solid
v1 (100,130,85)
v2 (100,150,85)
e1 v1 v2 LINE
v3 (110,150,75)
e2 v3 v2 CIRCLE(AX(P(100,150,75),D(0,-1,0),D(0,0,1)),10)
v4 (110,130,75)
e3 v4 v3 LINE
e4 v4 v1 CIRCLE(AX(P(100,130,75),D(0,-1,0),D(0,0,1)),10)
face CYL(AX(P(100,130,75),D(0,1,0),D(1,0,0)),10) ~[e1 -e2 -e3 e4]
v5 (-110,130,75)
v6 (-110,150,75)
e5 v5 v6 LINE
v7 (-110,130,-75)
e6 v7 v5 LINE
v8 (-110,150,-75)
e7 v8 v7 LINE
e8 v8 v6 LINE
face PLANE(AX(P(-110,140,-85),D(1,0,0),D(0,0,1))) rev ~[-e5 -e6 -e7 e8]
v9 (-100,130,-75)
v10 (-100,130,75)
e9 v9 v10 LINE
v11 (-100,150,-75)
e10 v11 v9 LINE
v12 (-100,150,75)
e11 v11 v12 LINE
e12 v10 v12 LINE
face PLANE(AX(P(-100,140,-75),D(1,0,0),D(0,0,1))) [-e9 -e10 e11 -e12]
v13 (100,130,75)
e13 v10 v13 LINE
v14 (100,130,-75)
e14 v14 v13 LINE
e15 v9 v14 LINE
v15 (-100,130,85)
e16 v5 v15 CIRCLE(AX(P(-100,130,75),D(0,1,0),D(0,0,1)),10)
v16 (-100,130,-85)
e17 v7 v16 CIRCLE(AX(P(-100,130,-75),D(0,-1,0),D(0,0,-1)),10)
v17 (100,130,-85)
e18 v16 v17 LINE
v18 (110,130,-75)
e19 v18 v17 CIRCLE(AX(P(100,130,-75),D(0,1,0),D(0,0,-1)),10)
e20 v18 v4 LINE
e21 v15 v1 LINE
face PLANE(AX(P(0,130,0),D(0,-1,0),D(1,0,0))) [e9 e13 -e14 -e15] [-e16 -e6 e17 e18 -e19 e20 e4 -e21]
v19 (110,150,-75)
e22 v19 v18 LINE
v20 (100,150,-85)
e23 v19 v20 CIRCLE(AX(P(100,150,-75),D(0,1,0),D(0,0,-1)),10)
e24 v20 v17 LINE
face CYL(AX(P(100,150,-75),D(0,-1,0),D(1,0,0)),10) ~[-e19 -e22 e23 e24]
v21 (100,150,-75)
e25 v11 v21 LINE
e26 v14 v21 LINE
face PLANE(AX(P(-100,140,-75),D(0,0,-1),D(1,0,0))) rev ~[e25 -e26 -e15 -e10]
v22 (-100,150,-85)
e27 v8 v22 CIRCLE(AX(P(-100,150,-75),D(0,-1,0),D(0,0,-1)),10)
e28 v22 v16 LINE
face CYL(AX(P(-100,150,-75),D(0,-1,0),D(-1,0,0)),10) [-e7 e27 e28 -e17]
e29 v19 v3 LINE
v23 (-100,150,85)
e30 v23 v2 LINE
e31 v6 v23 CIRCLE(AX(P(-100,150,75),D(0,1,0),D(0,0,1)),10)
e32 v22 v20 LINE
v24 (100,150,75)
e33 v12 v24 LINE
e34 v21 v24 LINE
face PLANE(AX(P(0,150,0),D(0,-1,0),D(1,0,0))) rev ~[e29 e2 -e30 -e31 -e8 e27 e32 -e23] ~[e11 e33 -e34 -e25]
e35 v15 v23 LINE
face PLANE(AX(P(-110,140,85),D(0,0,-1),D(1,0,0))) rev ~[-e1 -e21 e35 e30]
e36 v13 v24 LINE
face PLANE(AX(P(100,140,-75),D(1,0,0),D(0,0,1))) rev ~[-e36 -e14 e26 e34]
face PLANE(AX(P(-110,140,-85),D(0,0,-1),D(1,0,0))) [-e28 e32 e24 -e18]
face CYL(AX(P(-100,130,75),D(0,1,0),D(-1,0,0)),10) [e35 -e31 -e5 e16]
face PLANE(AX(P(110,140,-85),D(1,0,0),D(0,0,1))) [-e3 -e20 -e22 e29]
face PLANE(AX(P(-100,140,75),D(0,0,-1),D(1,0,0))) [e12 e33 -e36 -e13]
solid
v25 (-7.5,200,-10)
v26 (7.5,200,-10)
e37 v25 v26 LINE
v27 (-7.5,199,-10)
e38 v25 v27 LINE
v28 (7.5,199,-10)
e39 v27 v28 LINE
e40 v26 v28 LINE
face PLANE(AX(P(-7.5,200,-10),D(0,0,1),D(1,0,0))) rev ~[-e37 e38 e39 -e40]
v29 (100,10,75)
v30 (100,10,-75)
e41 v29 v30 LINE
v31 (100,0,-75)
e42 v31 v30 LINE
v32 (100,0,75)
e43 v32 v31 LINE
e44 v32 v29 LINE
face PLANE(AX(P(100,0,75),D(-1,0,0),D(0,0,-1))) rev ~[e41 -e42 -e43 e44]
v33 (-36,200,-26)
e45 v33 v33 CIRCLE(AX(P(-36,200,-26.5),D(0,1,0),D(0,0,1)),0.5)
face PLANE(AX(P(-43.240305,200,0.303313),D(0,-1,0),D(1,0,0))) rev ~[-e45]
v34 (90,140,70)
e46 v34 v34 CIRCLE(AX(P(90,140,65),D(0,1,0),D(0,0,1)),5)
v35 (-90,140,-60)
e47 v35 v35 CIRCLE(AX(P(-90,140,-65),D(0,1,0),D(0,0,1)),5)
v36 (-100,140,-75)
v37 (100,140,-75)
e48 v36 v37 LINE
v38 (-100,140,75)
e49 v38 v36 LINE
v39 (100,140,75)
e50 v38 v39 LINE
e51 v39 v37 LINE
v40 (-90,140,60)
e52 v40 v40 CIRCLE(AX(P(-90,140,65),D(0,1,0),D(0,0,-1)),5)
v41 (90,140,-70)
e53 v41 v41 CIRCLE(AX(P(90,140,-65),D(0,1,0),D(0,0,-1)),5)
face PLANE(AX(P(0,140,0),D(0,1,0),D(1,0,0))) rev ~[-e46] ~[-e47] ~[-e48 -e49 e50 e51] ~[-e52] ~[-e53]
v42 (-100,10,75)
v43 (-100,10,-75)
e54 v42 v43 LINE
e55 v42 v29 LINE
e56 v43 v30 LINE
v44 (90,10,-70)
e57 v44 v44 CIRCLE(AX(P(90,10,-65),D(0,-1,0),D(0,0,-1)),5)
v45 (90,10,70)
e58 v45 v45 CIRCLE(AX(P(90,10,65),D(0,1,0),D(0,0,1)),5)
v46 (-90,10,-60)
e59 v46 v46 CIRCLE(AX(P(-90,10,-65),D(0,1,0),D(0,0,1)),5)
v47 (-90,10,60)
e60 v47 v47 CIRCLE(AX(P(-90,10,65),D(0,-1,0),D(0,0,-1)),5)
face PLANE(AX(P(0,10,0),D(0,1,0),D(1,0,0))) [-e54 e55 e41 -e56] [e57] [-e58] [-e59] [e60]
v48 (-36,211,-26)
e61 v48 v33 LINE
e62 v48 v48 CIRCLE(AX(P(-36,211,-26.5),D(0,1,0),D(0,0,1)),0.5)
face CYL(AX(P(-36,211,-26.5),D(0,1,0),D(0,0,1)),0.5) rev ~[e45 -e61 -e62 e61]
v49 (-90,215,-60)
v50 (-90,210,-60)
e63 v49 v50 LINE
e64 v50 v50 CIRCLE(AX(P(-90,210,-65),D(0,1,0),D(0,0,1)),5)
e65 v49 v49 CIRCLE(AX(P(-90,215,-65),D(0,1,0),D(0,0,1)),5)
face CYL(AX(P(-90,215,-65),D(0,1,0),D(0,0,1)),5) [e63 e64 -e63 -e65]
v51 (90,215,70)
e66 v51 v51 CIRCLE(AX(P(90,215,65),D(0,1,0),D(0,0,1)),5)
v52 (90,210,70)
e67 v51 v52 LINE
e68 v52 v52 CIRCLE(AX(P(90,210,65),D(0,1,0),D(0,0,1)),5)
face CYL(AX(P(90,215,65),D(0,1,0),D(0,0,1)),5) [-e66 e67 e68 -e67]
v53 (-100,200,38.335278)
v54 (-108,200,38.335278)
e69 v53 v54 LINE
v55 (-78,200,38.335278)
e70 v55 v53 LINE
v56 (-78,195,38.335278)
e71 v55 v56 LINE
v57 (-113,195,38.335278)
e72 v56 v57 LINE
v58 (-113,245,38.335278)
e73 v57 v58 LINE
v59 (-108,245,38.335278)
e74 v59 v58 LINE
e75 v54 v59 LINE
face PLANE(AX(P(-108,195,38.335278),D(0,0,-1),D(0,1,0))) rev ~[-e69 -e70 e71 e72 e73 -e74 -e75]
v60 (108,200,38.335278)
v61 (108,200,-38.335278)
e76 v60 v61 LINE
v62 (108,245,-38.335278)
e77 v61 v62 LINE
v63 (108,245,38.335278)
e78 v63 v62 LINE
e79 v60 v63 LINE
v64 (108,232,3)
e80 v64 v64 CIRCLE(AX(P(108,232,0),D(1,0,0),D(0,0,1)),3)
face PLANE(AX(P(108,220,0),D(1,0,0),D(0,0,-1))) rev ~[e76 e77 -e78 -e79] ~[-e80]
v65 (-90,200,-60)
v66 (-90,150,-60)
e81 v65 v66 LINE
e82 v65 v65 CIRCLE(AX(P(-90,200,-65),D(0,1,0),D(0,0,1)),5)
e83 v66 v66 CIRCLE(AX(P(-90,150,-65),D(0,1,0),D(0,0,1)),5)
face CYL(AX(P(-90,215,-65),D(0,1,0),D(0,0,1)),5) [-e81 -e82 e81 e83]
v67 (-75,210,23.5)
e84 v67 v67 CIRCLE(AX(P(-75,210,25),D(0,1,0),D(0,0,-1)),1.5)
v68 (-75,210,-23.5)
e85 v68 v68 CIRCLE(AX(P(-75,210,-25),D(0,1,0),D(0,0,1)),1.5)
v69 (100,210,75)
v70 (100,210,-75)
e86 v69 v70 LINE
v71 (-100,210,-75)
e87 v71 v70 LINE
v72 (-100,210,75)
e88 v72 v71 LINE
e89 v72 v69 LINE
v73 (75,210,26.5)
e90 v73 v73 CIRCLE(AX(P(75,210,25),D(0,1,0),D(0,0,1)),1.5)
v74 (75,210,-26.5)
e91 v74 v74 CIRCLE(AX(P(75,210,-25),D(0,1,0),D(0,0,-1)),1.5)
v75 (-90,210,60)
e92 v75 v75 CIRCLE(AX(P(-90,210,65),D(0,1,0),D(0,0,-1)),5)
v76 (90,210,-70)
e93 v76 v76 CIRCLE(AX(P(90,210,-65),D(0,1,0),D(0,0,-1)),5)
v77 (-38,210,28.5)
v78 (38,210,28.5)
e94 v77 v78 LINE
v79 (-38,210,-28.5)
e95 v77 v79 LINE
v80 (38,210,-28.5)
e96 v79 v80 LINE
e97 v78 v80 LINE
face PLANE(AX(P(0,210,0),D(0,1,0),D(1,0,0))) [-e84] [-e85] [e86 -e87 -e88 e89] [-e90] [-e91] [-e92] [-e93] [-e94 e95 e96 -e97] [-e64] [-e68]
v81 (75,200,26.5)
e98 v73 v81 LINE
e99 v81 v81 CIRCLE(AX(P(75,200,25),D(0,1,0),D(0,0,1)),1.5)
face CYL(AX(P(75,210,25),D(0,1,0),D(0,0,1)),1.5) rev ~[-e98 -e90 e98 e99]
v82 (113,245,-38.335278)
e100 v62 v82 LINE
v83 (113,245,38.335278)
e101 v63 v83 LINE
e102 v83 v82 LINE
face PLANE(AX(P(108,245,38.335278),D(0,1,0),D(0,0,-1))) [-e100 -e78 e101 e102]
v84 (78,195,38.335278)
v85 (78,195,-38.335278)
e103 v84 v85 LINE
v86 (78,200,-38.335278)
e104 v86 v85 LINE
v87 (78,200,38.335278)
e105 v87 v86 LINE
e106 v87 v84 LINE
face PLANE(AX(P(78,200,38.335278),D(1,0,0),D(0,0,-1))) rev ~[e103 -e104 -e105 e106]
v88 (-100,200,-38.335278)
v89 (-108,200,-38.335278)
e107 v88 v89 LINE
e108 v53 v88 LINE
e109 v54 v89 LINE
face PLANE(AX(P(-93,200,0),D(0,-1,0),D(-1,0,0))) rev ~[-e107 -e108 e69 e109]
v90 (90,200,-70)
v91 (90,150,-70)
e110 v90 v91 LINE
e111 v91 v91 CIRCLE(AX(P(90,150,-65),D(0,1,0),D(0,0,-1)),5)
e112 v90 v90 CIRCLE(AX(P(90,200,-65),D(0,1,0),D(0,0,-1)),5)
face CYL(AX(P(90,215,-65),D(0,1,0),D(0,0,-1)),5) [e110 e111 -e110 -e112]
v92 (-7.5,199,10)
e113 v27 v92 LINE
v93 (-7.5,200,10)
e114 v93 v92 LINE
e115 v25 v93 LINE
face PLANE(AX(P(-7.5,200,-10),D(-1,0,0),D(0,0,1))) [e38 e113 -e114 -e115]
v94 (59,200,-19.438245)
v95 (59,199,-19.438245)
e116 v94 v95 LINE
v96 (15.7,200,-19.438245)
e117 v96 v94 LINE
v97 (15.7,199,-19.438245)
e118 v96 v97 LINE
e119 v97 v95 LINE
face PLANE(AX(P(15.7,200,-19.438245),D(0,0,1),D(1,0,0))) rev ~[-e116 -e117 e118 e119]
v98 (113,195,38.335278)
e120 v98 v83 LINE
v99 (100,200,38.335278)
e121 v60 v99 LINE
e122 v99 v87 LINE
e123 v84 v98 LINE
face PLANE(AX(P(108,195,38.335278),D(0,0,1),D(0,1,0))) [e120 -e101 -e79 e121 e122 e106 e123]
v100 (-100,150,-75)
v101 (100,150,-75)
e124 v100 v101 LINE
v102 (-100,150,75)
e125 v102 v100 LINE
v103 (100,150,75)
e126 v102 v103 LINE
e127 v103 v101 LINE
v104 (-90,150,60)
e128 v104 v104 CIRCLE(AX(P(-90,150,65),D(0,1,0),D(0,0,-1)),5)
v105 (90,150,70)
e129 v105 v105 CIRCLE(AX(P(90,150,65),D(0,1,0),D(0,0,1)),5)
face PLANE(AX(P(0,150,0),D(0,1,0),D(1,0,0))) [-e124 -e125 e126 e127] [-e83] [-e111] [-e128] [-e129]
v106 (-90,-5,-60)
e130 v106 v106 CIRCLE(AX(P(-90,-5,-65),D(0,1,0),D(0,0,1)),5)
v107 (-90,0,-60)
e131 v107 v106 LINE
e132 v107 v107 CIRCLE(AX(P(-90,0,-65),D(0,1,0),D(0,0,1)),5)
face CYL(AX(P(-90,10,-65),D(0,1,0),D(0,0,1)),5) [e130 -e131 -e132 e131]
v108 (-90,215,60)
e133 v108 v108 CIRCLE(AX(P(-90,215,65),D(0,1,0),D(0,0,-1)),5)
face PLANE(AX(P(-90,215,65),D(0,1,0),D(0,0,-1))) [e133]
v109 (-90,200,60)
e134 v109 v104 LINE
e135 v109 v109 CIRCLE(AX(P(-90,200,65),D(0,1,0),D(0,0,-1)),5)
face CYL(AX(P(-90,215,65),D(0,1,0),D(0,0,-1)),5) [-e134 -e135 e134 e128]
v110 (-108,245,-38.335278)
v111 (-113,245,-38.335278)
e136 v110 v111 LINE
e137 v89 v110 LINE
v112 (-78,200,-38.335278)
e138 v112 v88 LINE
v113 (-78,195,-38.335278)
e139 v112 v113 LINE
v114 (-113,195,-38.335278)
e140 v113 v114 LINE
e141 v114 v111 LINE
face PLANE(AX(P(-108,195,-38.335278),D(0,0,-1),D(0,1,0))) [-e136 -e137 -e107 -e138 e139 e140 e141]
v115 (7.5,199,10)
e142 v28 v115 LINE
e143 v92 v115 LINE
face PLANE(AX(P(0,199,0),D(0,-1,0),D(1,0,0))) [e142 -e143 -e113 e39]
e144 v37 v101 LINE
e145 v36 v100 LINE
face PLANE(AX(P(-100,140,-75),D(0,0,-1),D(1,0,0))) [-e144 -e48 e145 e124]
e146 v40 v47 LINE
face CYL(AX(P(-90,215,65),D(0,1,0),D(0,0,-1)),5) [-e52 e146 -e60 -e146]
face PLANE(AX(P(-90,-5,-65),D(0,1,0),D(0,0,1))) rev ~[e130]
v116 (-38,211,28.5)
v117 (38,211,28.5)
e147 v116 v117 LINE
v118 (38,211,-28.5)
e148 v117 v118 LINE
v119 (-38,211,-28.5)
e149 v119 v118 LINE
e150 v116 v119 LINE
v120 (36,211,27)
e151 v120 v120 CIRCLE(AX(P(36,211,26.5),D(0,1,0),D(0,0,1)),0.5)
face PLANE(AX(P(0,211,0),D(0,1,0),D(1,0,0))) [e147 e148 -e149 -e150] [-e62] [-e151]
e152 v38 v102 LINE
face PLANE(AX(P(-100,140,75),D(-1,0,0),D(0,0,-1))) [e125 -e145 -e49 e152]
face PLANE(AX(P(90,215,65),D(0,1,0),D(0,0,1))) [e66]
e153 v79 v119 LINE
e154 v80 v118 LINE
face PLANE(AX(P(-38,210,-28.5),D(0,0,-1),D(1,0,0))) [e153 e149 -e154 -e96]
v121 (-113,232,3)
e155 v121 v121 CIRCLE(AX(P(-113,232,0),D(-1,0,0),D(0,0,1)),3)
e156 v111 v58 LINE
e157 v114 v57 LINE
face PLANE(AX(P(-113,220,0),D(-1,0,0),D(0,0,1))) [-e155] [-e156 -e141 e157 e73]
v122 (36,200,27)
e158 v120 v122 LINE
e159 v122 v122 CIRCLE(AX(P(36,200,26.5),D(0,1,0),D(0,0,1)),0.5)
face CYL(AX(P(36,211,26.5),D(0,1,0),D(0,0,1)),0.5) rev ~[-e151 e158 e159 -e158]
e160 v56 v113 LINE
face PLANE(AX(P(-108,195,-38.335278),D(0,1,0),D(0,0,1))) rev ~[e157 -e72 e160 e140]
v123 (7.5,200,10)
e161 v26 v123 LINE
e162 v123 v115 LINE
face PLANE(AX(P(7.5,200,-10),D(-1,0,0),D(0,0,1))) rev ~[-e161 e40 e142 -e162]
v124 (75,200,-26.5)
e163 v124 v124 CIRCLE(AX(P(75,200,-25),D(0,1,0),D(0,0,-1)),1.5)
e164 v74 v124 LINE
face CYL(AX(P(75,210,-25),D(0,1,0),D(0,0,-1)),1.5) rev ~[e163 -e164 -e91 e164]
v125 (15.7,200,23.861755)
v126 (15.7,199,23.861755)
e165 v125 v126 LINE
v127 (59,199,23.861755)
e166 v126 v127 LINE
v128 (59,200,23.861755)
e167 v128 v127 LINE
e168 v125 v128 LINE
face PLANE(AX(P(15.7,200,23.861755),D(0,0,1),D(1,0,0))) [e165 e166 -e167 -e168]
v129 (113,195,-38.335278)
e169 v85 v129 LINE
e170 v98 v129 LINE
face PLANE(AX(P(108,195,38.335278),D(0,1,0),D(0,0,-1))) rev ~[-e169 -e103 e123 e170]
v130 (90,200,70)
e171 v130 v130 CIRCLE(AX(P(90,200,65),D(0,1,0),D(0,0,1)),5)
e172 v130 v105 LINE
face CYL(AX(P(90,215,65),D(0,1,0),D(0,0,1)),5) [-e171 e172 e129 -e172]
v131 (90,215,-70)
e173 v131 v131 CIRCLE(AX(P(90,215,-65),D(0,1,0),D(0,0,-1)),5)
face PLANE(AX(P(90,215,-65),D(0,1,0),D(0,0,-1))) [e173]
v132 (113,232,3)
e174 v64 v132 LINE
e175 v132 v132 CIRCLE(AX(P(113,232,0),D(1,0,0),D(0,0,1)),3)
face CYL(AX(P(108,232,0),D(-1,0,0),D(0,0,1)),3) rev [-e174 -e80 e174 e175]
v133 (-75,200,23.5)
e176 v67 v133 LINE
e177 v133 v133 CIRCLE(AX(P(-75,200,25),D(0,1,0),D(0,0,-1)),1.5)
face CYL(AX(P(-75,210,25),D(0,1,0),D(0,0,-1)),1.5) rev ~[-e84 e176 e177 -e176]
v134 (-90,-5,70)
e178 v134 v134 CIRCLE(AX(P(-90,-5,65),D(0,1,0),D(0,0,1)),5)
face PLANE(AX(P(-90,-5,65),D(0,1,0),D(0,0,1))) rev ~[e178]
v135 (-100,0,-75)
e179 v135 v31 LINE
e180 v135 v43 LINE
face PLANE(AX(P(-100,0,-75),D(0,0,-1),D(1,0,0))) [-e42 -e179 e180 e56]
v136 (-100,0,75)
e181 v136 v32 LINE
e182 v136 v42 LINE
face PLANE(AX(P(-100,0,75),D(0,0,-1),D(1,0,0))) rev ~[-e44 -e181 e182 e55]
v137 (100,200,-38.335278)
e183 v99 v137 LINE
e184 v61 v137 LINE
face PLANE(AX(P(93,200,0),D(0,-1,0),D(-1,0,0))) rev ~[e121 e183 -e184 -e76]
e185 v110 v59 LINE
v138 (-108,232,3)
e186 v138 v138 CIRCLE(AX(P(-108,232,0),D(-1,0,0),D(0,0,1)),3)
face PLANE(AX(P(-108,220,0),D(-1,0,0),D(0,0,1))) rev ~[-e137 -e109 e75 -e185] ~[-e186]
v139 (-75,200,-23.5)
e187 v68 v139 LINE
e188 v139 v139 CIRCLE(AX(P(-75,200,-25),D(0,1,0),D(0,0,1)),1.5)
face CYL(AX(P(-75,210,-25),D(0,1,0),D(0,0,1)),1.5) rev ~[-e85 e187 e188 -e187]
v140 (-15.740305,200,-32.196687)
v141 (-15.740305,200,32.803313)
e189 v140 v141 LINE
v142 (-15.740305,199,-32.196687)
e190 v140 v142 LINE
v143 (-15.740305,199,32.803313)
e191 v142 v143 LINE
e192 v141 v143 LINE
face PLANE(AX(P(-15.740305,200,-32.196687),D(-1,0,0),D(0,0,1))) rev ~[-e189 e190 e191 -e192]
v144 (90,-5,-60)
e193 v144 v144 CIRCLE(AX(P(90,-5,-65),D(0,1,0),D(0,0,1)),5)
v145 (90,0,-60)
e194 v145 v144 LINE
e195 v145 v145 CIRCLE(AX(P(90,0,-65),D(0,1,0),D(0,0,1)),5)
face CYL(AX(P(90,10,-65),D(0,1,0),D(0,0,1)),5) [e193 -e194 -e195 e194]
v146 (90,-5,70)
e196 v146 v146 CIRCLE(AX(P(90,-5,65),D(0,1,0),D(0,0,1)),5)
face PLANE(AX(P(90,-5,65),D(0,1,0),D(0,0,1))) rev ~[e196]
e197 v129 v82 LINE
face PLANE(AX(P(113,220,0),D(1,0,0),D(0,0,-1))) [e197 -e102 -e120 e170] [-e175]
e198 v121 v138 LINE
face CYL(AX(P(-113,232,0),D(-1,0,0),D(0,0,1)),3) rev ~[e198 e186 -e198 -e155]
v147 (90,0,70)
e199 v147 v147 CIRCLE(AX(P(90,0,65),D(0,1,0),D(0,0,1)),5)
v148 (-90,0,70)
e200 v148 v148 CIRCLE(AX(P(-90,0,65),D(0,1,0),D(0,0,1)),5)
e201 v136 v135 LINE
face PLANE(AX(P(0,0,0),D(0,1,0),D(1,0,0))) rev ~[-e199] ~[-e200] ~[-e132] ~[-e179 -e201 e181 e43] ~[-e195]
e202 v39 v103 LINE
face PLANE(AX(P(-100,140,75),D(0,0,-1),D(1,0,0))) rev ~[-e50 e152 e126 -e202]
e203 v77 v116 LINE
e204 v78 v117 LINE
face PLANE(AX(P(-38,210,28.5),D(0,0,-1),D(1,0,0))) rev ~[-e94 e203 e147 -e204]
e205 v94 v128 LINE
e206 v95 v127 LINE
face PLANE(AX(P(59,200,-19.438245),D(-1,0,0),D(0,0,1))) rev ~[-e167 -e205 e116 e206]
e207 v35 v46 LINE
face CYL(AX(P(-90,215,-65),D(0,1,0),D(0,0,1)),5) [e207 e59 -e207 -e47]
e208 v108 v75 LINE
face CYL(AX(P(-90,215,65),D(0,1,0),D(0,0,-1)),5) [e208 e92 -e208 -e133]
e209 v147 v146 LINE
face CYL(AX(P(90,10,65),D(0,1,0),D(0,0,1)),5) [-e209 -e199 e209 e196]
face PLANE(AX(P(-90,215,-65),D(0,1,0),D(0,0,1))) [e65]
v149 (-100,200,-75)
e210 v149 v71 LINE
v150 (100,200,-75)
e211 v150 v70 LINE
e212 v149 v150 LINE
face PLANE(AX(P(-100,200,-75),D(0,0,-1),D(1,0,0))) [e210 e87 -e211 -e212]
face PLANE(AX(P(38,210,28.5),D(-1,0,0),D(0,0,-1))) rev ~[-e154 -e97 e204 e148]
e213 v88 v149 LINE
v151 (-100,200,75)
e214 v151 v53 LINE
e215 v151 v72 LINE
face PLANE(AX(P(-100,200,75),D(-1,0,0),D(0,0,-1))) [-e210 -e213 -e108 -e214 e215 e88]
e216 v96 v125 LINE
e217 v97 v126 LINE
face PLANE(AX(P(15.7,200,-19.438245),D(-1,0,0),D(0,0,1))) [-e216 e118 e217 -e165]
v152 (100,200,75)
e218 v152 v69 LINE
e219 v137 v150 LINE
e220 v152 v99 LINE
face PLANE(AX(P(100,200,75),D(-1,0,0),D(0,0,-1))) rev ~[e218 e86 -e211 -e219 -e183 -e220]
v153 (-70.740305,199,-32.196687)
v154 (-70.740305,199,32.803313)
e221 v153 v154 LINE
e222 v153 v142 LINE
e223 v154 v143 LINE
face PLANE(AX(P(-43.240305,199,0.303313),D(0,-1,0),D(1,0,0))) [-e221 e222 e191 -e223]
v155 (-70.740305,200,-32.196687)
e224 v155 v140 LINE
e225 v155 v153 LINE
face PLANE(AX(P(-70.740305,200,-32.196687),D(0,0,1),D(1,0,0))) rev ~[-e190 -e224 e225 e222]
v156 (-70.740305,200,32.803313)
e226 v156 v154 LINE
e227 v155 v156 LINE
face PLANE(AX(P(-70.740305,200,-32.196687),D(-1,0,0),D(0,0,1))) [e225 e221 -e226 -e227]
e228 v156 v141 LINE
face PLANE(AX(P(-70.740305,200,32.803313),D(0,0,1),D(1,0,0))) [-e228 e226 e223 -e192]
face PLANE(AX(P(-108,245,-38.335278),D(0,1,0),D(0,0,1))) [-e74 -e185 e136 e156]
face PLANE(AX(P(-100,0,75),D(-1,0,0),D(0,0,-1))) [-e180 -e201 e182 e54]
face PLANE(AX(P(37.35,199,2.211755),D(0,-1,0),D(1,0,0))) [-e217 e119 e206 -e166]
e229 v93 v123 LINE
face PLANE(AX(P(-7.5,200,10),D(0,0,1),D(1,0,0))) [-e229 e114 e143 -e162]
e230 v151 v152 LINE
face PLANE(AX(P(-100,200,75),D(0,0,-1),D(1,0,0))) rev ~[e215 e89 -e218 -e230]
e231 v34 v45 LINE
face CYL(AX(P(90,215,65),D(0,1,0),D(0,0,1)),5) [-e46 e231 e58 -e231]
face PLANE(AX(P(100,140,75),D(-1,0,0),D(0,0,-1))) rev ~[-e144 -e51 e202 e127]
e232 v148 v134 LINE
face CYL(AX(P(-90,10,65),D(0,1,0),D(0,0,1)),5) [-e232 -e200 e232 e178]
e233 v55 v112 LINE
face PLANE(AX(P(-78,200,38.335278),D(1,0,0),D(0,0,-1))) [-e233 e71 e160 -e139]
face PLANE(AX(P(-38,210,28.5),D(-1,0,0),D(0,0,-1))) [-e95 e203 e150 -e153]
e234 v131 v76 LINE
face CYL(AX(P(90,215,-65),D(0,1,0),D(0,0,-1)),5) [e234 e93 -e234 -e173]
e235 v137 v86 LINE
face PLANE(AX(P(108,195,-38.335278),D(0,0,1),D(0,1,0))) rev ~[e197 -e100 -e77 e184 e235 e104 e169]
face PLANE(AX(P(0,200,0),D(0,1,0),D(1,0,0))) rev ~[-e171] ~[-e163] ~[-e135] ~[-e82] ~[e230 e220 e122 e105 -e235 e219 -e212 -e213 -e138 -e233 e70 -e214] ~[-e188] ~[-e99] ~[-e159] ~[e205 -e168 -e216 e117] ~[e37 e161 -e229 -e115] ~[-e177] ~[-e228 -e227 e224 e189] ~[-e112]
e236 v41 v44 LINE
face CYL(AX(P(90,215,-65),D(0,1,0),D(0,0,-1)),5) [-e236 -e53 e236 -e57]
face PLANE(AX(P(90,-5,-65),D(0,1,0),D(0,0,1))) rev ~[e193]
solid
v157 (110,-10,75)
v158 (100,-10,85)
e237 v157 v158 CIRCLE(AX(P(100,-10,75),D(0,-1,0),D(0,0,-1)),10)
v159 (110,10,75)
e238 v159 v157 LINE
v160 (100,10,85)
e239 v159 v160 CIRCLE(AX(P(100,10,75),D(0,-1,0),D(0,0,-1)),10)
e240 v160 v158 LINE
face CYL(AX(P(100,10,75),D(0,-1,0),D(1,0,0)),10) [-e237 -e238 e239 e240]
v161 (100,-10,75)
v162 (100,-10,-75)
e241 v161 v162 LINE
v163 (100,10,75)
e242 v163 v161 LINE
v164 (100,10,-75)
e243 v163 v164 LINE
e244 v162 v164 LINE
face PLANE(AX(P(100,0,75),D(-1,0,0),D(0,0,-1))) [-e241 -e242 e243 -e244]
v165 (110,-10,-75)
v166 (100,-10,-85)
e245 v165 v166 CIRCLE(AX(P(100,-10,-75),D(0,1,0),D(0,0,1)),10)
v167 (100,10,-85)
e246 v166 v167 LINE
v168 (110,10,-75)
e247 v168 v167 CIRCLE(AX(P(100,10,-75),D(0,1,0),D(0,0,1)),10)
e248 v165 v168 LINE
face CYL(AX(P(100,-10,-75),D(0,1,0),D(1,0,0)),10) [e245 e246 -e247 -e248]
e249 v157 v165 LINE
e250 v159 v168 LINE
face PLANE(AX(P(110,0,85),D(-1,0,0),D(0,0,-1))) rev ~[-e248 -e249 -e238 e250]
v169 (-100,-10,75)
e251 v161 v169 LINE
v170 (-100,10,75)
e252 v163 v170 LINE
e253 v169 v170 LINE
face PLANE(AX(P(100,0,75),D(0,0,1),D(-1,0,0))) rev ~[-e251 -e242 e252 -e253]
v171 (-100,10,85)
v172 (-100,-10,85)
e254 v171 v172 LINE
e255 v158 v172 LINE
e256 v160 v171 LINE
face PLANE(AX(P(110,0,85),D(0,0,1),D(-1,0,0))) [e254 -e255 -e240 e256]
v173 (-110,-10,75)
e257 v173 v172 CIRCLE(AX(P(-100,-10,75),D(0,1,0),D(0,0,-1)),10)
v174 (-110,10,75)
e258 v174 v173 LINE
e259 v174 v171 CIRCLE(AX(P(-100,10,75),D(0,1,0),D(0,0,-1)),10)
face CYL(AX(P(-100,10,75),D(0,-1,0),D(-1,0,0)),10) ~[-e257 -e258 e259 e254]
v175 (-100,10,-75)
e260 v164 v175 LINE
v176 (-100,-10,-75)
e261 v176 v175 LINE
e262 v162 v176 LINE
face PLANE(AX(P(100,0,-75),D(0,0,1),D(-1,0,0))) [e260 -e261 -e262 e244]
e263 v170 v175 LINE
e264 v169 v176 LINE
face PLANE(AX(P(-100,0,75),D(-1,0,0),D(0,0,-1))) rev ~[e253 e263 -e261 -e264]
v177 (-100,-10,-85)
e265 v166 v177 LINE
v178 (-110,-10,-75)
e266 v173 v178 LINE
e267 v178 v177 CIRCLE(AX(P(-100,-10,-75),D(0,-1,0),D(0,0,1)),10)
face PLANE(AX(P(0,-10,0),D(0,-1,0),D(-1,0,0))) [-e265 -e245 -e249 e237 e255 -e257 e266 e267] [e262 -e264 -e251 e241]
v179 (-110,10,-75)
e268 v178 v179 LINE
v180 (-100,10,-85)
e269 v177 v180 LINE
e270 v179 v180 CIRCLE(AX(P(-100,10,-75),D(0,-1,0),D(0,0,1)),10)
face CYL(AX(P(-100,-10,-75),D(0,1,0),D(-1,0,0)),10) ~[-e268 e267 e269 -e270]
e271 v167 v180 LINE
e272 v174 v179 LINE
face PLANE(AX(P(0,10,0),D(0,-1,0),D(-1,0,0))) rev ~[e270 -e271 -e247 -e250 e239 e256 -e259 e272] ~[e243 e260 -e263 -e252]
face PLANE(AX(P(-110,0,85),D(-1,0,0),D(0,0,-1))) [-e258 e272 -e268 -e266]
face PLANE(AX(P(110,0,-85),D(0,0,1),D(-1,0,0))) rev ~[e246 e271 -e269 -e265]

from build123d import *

# Parameters (mm, degrees)
SKETCH1_W            = 200
SKETCH1_H            = 150
BOSS_EXTRUDE1_DEPTH  = 10
SKETCH2_R            = 5
CUT_EXTRUDE1_DEPTH   = 10
SKETCH3_W            = 200
SKETCH3_H            = 150
SKETCH3_R            = 5
BOSS_EXTRUDE2_DEPTH  = 10
SKETCH4_W            = 200
SKETCH4_H            = 150
SKETCH4_R            = 5
BOSS_EXTRUDE3_DEPTH  = 10
BOSS_EXTRUDE13_START = 205
SKETCH21_R           = 5
BOSS_EXTRUDE13_DEPTH = 205
SKETCH22_R           = 5
BOSS_EXTRUDE14_DEPTH = 15
SKETCH23_R           = 1.5
CUT_EXTRUDE2_DEPTH   = 10
SKETCH27_W           = 76
SKETCH27_H           = 57
BOSS_EXTRUDE16_DEPTH = 1
SKETCH30_R           = 0.5
CUT_EXTRUDE3_DEPTH   = 30
SKETCH35_W           = 220
SKETCH35_H           = 170
SKETCH35_W_2         = 200
SKETCH35_H_2         = 150
BOSS_EXTRUDE19_DEPTH = 10
FILLET4_R            = 10
SKETCH39_W           = 220
SKETCH39_H           = 170
SKETCH39_W_2         = 200
SKETCH39_H_2         = 150
BOSS_EXTRUDE20_DEPTH = 10
FILLET5_R            = 10
SKETCH42_W           = 15
SKETCH42_H           = 20
SKETCH42_W_2         = 55
SKETCH42_H_2         = 65
SKETCH42_W_3         = 43.3
SKETCH42_H_3         = 43.3
BOSS_EXTRUDE23_DEPTH = 1
SKETCH46_W           = 30
SKETCH46_H           = 76.670556204
BOSS_EXTRUDE24_DEPTH = 5
SKETCH48_W           = 76.670556204
SKETCH48_H           = 50
BOSS_EXTRUDE25_DEPTH = 5
SKETCH49_R           = 3
CUT_EXTRUDE4_DEPTH   = 5
SKETCH54_W           = 76.670556204
SKETCH54_H           = 50
BOSS_EXTRUDE26_DEPTH = 5
CUT_EXTRUDE5_START   = -5
SKETCH55_R           = 3
CUT_EXTRUDE5_DEPTH   = 5


with BuildPart() as part:
    # Sketch1 → Boss-Extrude1 (new body)
    with BuildSketch(Plane(origin=(0, 0, 0), x_dir=(1, 0, 0), z_dir=(0, 1, 0))):
        Rectangle(SKETCH1_W, SKETCH1_H)
    extrude(amount=BOSS_EXTRUDE1_DEPTH)

    # Sketch2 → Cut-Extrude1 (cut)
    with BuildSketch(Plane(origin=(0, 10, 0), x_dir=(1, 0, 0), z_dir=(0, 1, 0))):
        with Locations(Location((-90, 65, 0), (0, 0, 270))):
            Circle(SKETCH2_R)
        with Locations(Location((90, 65, 0), (0, 0, 90))):
            Circle(SKETCH2_R)
        with Locations(Location((90, -65, 0), (0, 0, 270))):
            Circle(SKETCH2_R)
        with Locations(Location((-90, -65, 0), (0, 0, 90))):
            Circle(SKETCH2_R)
    extrude(amount=-CUT_EXTRUDE1_DEPTH, mode=Mode.SUBTRACT)



with BuildPart() as body_2:
    # Sketch3 → Boss-Extrude2 (new body)
    with BuildSketch(Plane(origin=(0, 140, 0), x_dir=(1, 0, 0), z_dir=(0, 1, 0))):
        Rectangle(SKETCH3_W, SKETCH3_H)
        with Locations(Location((-90, 65, 0), (0, 0, 270))):
            Circle(SKETCH3_R, mode=Mode.SUBTRACT)
        with Locations(Location((90, 65, 0), (0, 0, 90))):
            Circle(SKETCH3_R, mode=Mode.SUBTRACT)
        with Locations(Location((-90, -65, 0), (0, 0, 90))):
            Circle(SKETCH3_R, mode=Mode.SUBTRACT)
        with Locations(Location((90, -65, 0), (0, 0, 270))):
            Circle(SKETCH3_R, mode=Mode.SUBTRACT)
    extrude(amount=BOSS_EXTRUDE2_DEPTH)



with BuildPart() as body_3:
    # Sketch4 → Boss-Extrude3 (new body)
    with BuildSketch(Plane(origin=(0, 200, 0), x_dir=(1, 0, 0), z_dir=(0, 1, 0))):
        Rectangle(SKETCH4_W, SKETCH4_H)
        with Locations(Location((-90, 65, 0), (0, 0, 270))):
            Circle(SKETCH4_R, mode=Mode.SUBTRACT)
        with Locations(Location((90, 65, 0), (0, 0, 90))):
            Circle(SKETCH4_R, mode=Mode.SUBTRACT)
        with Locations(Location((90, -65, 0), (0, 0, 270))):
            Circle(SKETCH4_R, mode=Mode.SUBTRACT)
        with Locations(Location((-90, -65, 0), (0, 0, 90))):
            Circle(SKETCH4_R, mode=Mode.SUBTRACT)
    extrude(amount=BOSS_EXTRUDE3_DEPTH)


with BuildPart() as body_2_1:
    add(body_2.part)

    add(body_3.part)  # Boss-Extrude13 merges body 3
    # Sketch21 → Boss-Extrude13 (add)
    with BuildSketch(Plane(origin=(0, 10, 0), x_dir=(1, 0, 0), z_dir=(0, 1, 0)).offset(BOSS_EXTRUDE13_START)):
        with Locations(Location((-90, -65, 0), (0, 0, 90))):
            Circle(SKETCH21_R)
        with Locations(Location((-90, 65, 0), (0, 0, 270))):
            Circle(SKETCH21_R)
        with Locations(Location((90, 65, 0), (0, 0, 90))):
            Circle(SKETCH21_R)
        with Locations(Location((90, -65, 0), (0, 0, 270))):
            Circle(SKETCH21_R)
    extrude(amount=-BOSS_EXTRUDE13_DEPTH)


with BuildPart() as part_1:
    add(part.part)

    add(body_2_1.part)  # Boss-Extrude14 merges body 2
    # Sketch22 → Boss-Extrude14 (add)
    with BuildSketch(Plane(origin=(0, 10, 0), x_dir=(1, 0, 0), z_dir=(0, 1, 0))):
        with Locations(Location((-90, 65, 0), (0, 0, 270))):
            Circle(SKETCH22_R)
        with Locations(Location((-90, -65, 0), (0, 0, 270))):
            Circle(SKETCH22_R)
        with Locations(Location((90, -65, 0), (0, 0, 270))):
            Circle(SKETCH22_R)
        with Locations(Location((90, 65, 0), (0, 0, 270))):
            Circle(SKETCH22_R)
    extrude(amount=-BOSS_EXTRUDE14_DEPTH)

    # Sketch23 → Cut-Extrude2 (cut)
    with BuildSketch(Plane(origin=(0, 210, 0), x_dir=(1, 0, 0), z_dir=(0, 1, 0))):
        with Locations(Location((-75, 25, 0), (0, 0, 270))):
            Circle(SKETCH23_R)
        with Locations(Location((-75, -25, 0), (0, 0, 90))):
            Circle(SKETCH23_R)
        with Locations(Location((75, -25, 0), (0, 0, 270))):
            Circle(SKETCH23_R)
        with Locations(Location((75, 25, 0), (0, 0, 90))):
            Circle(SKETCH23_R)
    extrude(amount=-CUT_EXTRUDE2_DEPTH, mode=Mode.SUBTRACT)

    # Sketch27 → Boss-Extrude16 (add)
    with BuildSketch(Plane(origin=(0, 210, 0), x_dir=(1, 0, 0), z_dir=(0, 1, 0))):
        Rectangle(SKETCH27_W, SKETCH27_H)
    extrude(amount=BOSS_EXTRUDE16_DEPTH)

    # Sketch30 → Cut-Extrude3 (cut)
    with BuildSketch(Plane(origin=(0, 211, 0), x_dir=(1, 0, 0), z_dir=(0, 1, 0))):
        with Locations(Location((-36, 26.5, 0), (0, 0, 270))):
            Circle(SKETCH30_R)
        with Locations(Location((36, -26.5, 0), (0, 0, 270))):
            Circle(SKETCH30_R)
    extrude(amount=-CUT_EXTRUDE3_DEPTH, mode=Mode.SUBTRACT)

    # Sketch42 → Boss-Extrude23 (add)
    with BuildSketch(Plane.XZ.offset(-200)):
        Rectangle(SKETCH42_W, SKETCH42_H)
        with Locations((-43.240305189, 0.303312526)):
            Rectangle(SKETCH42_W_2, SKETCH42_H_2)
        with Locations((37.35, 2.211754737)):
            Rectangle(SKETCH42_W_3, SKETCH42_H_3)
    extrude(amount=BOSS_EXTRUDE23_DEPTH)

    # Sketch46 → Boss-Extrude24 (add)
    with BuildSketch(Plane(origin=(0, 200, 0), x_dir=(-1, 0, 0), z_dir=(0, -1, 0))):
        with Locations((-93, 0)):
            Rectangle(SKETCH46_W, SKETCH46_H)
        with Locations((93, 0)):
            Rectangle(SKETCH46_W, SKETCH46_H)
    extrude(amount=BOSS_EXTRUDE24_DEPTH)

    # Sketch48 → Boss-Extrude25 (add)
    with BuildSketch(Plane.ZY.offset(108)):
        with Locations((0, 220)):
            Rectangle(SKETCH48_W, SKETCH48_H)
    extrude(amount=BOSS_EXTRUDE25_DEPTH)

    # Sketch49 → Cut-Extrude4 (cut)
    with BuildSketch(Plane.ZY.offset(113)):
        with Locations((0, 232)):
            Circle(SKETCH49_R)
    extrude(amount=-CUT_EXTRUDE4_DEPTH, mode=Mode.SUBTRACT)

    # Sketch54 → Boss-Extrude26 (add)
    with BuildSketch(Plane(origin=(108, 0, 0), x_dir=(0, 0, -1), z_dir=(1, 0, 0))):
        with Locations((0, 220)):
            Rectangle(SKETCH54_W, SKETCH54_H)
    extrude(amount=BOSS_EXTRUDE26_DEPTH)

    # Sketch55 → Cut-Extrude5 (cut)
    with BuildSketch(Plane(origin=(113, 0, 0), x_dir=(0, 0, -1), z_dir=(1, 0, 0)).offset(CUT_EXTRUDE5_START)):
        with Locations(Location((0, 232, 0), (0, 0, 180))):
            Circle(SKETCH55_R)
    extrude(amount=CUT_EXTRUDE5_DEPTH, mode=Mode.SUBTRACT)


with BuildPart() as body_2_2:
    # Sketch35 → Boss-Extrude19 (new, symmetric)
    with BuildSketch(Plane(origin=(0, 0, 0), x_dir=(-1, 0, 0), z_dir=(0, -1, 0))):
        Rectangle(SKETCH35_W, SKETCH35_H)
        Rectangle(SKETCH35_W_2, SKETCH35_H_2, mode=Mode.SUBTRACT)
    extrude(amount=BOSS_EXTRUDE19_DEPTH, both=True)

    # Fillet4
    fillet4_edges = [body_2_2.edges().sort_by_distance(p)[0] for p in [
        (110, 0, -85),
        (-110, 0, -85),
        (-110, 0, 85),
        (110, 0, 85),
    ]]
    fillet(fillet4_edges, radius=FILLET4_R)


with BuildPart() as body_3_2:
    # Sketch39 → Boss-Extrude20 (new, symmetric)
    with BuildSketch(Plane.XZ.offset(-140)):
        Rectangle(SKETCH39_W, SKETCH39_H)
        Rectangle(SKETCH39_W_2, SKETCH39_H_2, mode=Mode.SUBTRACT)
    extrude(amount=BOSS_EXTRUDE20_DEPTH, both=True)

    # Fillet5
    fillet5_edges = [body_3_2.edges().sort_by_distance(p)[0] for p in [
        (110, 140, -85),
        (-110, 140, -85),
        (-110, 140, 85),
        (110, 140, 85),
    ]]
    fillet(fillet5_edges, radius=FILLET5_R)


solid = Compound([part_1.part, body_2_2.part, body_3_2.part])
